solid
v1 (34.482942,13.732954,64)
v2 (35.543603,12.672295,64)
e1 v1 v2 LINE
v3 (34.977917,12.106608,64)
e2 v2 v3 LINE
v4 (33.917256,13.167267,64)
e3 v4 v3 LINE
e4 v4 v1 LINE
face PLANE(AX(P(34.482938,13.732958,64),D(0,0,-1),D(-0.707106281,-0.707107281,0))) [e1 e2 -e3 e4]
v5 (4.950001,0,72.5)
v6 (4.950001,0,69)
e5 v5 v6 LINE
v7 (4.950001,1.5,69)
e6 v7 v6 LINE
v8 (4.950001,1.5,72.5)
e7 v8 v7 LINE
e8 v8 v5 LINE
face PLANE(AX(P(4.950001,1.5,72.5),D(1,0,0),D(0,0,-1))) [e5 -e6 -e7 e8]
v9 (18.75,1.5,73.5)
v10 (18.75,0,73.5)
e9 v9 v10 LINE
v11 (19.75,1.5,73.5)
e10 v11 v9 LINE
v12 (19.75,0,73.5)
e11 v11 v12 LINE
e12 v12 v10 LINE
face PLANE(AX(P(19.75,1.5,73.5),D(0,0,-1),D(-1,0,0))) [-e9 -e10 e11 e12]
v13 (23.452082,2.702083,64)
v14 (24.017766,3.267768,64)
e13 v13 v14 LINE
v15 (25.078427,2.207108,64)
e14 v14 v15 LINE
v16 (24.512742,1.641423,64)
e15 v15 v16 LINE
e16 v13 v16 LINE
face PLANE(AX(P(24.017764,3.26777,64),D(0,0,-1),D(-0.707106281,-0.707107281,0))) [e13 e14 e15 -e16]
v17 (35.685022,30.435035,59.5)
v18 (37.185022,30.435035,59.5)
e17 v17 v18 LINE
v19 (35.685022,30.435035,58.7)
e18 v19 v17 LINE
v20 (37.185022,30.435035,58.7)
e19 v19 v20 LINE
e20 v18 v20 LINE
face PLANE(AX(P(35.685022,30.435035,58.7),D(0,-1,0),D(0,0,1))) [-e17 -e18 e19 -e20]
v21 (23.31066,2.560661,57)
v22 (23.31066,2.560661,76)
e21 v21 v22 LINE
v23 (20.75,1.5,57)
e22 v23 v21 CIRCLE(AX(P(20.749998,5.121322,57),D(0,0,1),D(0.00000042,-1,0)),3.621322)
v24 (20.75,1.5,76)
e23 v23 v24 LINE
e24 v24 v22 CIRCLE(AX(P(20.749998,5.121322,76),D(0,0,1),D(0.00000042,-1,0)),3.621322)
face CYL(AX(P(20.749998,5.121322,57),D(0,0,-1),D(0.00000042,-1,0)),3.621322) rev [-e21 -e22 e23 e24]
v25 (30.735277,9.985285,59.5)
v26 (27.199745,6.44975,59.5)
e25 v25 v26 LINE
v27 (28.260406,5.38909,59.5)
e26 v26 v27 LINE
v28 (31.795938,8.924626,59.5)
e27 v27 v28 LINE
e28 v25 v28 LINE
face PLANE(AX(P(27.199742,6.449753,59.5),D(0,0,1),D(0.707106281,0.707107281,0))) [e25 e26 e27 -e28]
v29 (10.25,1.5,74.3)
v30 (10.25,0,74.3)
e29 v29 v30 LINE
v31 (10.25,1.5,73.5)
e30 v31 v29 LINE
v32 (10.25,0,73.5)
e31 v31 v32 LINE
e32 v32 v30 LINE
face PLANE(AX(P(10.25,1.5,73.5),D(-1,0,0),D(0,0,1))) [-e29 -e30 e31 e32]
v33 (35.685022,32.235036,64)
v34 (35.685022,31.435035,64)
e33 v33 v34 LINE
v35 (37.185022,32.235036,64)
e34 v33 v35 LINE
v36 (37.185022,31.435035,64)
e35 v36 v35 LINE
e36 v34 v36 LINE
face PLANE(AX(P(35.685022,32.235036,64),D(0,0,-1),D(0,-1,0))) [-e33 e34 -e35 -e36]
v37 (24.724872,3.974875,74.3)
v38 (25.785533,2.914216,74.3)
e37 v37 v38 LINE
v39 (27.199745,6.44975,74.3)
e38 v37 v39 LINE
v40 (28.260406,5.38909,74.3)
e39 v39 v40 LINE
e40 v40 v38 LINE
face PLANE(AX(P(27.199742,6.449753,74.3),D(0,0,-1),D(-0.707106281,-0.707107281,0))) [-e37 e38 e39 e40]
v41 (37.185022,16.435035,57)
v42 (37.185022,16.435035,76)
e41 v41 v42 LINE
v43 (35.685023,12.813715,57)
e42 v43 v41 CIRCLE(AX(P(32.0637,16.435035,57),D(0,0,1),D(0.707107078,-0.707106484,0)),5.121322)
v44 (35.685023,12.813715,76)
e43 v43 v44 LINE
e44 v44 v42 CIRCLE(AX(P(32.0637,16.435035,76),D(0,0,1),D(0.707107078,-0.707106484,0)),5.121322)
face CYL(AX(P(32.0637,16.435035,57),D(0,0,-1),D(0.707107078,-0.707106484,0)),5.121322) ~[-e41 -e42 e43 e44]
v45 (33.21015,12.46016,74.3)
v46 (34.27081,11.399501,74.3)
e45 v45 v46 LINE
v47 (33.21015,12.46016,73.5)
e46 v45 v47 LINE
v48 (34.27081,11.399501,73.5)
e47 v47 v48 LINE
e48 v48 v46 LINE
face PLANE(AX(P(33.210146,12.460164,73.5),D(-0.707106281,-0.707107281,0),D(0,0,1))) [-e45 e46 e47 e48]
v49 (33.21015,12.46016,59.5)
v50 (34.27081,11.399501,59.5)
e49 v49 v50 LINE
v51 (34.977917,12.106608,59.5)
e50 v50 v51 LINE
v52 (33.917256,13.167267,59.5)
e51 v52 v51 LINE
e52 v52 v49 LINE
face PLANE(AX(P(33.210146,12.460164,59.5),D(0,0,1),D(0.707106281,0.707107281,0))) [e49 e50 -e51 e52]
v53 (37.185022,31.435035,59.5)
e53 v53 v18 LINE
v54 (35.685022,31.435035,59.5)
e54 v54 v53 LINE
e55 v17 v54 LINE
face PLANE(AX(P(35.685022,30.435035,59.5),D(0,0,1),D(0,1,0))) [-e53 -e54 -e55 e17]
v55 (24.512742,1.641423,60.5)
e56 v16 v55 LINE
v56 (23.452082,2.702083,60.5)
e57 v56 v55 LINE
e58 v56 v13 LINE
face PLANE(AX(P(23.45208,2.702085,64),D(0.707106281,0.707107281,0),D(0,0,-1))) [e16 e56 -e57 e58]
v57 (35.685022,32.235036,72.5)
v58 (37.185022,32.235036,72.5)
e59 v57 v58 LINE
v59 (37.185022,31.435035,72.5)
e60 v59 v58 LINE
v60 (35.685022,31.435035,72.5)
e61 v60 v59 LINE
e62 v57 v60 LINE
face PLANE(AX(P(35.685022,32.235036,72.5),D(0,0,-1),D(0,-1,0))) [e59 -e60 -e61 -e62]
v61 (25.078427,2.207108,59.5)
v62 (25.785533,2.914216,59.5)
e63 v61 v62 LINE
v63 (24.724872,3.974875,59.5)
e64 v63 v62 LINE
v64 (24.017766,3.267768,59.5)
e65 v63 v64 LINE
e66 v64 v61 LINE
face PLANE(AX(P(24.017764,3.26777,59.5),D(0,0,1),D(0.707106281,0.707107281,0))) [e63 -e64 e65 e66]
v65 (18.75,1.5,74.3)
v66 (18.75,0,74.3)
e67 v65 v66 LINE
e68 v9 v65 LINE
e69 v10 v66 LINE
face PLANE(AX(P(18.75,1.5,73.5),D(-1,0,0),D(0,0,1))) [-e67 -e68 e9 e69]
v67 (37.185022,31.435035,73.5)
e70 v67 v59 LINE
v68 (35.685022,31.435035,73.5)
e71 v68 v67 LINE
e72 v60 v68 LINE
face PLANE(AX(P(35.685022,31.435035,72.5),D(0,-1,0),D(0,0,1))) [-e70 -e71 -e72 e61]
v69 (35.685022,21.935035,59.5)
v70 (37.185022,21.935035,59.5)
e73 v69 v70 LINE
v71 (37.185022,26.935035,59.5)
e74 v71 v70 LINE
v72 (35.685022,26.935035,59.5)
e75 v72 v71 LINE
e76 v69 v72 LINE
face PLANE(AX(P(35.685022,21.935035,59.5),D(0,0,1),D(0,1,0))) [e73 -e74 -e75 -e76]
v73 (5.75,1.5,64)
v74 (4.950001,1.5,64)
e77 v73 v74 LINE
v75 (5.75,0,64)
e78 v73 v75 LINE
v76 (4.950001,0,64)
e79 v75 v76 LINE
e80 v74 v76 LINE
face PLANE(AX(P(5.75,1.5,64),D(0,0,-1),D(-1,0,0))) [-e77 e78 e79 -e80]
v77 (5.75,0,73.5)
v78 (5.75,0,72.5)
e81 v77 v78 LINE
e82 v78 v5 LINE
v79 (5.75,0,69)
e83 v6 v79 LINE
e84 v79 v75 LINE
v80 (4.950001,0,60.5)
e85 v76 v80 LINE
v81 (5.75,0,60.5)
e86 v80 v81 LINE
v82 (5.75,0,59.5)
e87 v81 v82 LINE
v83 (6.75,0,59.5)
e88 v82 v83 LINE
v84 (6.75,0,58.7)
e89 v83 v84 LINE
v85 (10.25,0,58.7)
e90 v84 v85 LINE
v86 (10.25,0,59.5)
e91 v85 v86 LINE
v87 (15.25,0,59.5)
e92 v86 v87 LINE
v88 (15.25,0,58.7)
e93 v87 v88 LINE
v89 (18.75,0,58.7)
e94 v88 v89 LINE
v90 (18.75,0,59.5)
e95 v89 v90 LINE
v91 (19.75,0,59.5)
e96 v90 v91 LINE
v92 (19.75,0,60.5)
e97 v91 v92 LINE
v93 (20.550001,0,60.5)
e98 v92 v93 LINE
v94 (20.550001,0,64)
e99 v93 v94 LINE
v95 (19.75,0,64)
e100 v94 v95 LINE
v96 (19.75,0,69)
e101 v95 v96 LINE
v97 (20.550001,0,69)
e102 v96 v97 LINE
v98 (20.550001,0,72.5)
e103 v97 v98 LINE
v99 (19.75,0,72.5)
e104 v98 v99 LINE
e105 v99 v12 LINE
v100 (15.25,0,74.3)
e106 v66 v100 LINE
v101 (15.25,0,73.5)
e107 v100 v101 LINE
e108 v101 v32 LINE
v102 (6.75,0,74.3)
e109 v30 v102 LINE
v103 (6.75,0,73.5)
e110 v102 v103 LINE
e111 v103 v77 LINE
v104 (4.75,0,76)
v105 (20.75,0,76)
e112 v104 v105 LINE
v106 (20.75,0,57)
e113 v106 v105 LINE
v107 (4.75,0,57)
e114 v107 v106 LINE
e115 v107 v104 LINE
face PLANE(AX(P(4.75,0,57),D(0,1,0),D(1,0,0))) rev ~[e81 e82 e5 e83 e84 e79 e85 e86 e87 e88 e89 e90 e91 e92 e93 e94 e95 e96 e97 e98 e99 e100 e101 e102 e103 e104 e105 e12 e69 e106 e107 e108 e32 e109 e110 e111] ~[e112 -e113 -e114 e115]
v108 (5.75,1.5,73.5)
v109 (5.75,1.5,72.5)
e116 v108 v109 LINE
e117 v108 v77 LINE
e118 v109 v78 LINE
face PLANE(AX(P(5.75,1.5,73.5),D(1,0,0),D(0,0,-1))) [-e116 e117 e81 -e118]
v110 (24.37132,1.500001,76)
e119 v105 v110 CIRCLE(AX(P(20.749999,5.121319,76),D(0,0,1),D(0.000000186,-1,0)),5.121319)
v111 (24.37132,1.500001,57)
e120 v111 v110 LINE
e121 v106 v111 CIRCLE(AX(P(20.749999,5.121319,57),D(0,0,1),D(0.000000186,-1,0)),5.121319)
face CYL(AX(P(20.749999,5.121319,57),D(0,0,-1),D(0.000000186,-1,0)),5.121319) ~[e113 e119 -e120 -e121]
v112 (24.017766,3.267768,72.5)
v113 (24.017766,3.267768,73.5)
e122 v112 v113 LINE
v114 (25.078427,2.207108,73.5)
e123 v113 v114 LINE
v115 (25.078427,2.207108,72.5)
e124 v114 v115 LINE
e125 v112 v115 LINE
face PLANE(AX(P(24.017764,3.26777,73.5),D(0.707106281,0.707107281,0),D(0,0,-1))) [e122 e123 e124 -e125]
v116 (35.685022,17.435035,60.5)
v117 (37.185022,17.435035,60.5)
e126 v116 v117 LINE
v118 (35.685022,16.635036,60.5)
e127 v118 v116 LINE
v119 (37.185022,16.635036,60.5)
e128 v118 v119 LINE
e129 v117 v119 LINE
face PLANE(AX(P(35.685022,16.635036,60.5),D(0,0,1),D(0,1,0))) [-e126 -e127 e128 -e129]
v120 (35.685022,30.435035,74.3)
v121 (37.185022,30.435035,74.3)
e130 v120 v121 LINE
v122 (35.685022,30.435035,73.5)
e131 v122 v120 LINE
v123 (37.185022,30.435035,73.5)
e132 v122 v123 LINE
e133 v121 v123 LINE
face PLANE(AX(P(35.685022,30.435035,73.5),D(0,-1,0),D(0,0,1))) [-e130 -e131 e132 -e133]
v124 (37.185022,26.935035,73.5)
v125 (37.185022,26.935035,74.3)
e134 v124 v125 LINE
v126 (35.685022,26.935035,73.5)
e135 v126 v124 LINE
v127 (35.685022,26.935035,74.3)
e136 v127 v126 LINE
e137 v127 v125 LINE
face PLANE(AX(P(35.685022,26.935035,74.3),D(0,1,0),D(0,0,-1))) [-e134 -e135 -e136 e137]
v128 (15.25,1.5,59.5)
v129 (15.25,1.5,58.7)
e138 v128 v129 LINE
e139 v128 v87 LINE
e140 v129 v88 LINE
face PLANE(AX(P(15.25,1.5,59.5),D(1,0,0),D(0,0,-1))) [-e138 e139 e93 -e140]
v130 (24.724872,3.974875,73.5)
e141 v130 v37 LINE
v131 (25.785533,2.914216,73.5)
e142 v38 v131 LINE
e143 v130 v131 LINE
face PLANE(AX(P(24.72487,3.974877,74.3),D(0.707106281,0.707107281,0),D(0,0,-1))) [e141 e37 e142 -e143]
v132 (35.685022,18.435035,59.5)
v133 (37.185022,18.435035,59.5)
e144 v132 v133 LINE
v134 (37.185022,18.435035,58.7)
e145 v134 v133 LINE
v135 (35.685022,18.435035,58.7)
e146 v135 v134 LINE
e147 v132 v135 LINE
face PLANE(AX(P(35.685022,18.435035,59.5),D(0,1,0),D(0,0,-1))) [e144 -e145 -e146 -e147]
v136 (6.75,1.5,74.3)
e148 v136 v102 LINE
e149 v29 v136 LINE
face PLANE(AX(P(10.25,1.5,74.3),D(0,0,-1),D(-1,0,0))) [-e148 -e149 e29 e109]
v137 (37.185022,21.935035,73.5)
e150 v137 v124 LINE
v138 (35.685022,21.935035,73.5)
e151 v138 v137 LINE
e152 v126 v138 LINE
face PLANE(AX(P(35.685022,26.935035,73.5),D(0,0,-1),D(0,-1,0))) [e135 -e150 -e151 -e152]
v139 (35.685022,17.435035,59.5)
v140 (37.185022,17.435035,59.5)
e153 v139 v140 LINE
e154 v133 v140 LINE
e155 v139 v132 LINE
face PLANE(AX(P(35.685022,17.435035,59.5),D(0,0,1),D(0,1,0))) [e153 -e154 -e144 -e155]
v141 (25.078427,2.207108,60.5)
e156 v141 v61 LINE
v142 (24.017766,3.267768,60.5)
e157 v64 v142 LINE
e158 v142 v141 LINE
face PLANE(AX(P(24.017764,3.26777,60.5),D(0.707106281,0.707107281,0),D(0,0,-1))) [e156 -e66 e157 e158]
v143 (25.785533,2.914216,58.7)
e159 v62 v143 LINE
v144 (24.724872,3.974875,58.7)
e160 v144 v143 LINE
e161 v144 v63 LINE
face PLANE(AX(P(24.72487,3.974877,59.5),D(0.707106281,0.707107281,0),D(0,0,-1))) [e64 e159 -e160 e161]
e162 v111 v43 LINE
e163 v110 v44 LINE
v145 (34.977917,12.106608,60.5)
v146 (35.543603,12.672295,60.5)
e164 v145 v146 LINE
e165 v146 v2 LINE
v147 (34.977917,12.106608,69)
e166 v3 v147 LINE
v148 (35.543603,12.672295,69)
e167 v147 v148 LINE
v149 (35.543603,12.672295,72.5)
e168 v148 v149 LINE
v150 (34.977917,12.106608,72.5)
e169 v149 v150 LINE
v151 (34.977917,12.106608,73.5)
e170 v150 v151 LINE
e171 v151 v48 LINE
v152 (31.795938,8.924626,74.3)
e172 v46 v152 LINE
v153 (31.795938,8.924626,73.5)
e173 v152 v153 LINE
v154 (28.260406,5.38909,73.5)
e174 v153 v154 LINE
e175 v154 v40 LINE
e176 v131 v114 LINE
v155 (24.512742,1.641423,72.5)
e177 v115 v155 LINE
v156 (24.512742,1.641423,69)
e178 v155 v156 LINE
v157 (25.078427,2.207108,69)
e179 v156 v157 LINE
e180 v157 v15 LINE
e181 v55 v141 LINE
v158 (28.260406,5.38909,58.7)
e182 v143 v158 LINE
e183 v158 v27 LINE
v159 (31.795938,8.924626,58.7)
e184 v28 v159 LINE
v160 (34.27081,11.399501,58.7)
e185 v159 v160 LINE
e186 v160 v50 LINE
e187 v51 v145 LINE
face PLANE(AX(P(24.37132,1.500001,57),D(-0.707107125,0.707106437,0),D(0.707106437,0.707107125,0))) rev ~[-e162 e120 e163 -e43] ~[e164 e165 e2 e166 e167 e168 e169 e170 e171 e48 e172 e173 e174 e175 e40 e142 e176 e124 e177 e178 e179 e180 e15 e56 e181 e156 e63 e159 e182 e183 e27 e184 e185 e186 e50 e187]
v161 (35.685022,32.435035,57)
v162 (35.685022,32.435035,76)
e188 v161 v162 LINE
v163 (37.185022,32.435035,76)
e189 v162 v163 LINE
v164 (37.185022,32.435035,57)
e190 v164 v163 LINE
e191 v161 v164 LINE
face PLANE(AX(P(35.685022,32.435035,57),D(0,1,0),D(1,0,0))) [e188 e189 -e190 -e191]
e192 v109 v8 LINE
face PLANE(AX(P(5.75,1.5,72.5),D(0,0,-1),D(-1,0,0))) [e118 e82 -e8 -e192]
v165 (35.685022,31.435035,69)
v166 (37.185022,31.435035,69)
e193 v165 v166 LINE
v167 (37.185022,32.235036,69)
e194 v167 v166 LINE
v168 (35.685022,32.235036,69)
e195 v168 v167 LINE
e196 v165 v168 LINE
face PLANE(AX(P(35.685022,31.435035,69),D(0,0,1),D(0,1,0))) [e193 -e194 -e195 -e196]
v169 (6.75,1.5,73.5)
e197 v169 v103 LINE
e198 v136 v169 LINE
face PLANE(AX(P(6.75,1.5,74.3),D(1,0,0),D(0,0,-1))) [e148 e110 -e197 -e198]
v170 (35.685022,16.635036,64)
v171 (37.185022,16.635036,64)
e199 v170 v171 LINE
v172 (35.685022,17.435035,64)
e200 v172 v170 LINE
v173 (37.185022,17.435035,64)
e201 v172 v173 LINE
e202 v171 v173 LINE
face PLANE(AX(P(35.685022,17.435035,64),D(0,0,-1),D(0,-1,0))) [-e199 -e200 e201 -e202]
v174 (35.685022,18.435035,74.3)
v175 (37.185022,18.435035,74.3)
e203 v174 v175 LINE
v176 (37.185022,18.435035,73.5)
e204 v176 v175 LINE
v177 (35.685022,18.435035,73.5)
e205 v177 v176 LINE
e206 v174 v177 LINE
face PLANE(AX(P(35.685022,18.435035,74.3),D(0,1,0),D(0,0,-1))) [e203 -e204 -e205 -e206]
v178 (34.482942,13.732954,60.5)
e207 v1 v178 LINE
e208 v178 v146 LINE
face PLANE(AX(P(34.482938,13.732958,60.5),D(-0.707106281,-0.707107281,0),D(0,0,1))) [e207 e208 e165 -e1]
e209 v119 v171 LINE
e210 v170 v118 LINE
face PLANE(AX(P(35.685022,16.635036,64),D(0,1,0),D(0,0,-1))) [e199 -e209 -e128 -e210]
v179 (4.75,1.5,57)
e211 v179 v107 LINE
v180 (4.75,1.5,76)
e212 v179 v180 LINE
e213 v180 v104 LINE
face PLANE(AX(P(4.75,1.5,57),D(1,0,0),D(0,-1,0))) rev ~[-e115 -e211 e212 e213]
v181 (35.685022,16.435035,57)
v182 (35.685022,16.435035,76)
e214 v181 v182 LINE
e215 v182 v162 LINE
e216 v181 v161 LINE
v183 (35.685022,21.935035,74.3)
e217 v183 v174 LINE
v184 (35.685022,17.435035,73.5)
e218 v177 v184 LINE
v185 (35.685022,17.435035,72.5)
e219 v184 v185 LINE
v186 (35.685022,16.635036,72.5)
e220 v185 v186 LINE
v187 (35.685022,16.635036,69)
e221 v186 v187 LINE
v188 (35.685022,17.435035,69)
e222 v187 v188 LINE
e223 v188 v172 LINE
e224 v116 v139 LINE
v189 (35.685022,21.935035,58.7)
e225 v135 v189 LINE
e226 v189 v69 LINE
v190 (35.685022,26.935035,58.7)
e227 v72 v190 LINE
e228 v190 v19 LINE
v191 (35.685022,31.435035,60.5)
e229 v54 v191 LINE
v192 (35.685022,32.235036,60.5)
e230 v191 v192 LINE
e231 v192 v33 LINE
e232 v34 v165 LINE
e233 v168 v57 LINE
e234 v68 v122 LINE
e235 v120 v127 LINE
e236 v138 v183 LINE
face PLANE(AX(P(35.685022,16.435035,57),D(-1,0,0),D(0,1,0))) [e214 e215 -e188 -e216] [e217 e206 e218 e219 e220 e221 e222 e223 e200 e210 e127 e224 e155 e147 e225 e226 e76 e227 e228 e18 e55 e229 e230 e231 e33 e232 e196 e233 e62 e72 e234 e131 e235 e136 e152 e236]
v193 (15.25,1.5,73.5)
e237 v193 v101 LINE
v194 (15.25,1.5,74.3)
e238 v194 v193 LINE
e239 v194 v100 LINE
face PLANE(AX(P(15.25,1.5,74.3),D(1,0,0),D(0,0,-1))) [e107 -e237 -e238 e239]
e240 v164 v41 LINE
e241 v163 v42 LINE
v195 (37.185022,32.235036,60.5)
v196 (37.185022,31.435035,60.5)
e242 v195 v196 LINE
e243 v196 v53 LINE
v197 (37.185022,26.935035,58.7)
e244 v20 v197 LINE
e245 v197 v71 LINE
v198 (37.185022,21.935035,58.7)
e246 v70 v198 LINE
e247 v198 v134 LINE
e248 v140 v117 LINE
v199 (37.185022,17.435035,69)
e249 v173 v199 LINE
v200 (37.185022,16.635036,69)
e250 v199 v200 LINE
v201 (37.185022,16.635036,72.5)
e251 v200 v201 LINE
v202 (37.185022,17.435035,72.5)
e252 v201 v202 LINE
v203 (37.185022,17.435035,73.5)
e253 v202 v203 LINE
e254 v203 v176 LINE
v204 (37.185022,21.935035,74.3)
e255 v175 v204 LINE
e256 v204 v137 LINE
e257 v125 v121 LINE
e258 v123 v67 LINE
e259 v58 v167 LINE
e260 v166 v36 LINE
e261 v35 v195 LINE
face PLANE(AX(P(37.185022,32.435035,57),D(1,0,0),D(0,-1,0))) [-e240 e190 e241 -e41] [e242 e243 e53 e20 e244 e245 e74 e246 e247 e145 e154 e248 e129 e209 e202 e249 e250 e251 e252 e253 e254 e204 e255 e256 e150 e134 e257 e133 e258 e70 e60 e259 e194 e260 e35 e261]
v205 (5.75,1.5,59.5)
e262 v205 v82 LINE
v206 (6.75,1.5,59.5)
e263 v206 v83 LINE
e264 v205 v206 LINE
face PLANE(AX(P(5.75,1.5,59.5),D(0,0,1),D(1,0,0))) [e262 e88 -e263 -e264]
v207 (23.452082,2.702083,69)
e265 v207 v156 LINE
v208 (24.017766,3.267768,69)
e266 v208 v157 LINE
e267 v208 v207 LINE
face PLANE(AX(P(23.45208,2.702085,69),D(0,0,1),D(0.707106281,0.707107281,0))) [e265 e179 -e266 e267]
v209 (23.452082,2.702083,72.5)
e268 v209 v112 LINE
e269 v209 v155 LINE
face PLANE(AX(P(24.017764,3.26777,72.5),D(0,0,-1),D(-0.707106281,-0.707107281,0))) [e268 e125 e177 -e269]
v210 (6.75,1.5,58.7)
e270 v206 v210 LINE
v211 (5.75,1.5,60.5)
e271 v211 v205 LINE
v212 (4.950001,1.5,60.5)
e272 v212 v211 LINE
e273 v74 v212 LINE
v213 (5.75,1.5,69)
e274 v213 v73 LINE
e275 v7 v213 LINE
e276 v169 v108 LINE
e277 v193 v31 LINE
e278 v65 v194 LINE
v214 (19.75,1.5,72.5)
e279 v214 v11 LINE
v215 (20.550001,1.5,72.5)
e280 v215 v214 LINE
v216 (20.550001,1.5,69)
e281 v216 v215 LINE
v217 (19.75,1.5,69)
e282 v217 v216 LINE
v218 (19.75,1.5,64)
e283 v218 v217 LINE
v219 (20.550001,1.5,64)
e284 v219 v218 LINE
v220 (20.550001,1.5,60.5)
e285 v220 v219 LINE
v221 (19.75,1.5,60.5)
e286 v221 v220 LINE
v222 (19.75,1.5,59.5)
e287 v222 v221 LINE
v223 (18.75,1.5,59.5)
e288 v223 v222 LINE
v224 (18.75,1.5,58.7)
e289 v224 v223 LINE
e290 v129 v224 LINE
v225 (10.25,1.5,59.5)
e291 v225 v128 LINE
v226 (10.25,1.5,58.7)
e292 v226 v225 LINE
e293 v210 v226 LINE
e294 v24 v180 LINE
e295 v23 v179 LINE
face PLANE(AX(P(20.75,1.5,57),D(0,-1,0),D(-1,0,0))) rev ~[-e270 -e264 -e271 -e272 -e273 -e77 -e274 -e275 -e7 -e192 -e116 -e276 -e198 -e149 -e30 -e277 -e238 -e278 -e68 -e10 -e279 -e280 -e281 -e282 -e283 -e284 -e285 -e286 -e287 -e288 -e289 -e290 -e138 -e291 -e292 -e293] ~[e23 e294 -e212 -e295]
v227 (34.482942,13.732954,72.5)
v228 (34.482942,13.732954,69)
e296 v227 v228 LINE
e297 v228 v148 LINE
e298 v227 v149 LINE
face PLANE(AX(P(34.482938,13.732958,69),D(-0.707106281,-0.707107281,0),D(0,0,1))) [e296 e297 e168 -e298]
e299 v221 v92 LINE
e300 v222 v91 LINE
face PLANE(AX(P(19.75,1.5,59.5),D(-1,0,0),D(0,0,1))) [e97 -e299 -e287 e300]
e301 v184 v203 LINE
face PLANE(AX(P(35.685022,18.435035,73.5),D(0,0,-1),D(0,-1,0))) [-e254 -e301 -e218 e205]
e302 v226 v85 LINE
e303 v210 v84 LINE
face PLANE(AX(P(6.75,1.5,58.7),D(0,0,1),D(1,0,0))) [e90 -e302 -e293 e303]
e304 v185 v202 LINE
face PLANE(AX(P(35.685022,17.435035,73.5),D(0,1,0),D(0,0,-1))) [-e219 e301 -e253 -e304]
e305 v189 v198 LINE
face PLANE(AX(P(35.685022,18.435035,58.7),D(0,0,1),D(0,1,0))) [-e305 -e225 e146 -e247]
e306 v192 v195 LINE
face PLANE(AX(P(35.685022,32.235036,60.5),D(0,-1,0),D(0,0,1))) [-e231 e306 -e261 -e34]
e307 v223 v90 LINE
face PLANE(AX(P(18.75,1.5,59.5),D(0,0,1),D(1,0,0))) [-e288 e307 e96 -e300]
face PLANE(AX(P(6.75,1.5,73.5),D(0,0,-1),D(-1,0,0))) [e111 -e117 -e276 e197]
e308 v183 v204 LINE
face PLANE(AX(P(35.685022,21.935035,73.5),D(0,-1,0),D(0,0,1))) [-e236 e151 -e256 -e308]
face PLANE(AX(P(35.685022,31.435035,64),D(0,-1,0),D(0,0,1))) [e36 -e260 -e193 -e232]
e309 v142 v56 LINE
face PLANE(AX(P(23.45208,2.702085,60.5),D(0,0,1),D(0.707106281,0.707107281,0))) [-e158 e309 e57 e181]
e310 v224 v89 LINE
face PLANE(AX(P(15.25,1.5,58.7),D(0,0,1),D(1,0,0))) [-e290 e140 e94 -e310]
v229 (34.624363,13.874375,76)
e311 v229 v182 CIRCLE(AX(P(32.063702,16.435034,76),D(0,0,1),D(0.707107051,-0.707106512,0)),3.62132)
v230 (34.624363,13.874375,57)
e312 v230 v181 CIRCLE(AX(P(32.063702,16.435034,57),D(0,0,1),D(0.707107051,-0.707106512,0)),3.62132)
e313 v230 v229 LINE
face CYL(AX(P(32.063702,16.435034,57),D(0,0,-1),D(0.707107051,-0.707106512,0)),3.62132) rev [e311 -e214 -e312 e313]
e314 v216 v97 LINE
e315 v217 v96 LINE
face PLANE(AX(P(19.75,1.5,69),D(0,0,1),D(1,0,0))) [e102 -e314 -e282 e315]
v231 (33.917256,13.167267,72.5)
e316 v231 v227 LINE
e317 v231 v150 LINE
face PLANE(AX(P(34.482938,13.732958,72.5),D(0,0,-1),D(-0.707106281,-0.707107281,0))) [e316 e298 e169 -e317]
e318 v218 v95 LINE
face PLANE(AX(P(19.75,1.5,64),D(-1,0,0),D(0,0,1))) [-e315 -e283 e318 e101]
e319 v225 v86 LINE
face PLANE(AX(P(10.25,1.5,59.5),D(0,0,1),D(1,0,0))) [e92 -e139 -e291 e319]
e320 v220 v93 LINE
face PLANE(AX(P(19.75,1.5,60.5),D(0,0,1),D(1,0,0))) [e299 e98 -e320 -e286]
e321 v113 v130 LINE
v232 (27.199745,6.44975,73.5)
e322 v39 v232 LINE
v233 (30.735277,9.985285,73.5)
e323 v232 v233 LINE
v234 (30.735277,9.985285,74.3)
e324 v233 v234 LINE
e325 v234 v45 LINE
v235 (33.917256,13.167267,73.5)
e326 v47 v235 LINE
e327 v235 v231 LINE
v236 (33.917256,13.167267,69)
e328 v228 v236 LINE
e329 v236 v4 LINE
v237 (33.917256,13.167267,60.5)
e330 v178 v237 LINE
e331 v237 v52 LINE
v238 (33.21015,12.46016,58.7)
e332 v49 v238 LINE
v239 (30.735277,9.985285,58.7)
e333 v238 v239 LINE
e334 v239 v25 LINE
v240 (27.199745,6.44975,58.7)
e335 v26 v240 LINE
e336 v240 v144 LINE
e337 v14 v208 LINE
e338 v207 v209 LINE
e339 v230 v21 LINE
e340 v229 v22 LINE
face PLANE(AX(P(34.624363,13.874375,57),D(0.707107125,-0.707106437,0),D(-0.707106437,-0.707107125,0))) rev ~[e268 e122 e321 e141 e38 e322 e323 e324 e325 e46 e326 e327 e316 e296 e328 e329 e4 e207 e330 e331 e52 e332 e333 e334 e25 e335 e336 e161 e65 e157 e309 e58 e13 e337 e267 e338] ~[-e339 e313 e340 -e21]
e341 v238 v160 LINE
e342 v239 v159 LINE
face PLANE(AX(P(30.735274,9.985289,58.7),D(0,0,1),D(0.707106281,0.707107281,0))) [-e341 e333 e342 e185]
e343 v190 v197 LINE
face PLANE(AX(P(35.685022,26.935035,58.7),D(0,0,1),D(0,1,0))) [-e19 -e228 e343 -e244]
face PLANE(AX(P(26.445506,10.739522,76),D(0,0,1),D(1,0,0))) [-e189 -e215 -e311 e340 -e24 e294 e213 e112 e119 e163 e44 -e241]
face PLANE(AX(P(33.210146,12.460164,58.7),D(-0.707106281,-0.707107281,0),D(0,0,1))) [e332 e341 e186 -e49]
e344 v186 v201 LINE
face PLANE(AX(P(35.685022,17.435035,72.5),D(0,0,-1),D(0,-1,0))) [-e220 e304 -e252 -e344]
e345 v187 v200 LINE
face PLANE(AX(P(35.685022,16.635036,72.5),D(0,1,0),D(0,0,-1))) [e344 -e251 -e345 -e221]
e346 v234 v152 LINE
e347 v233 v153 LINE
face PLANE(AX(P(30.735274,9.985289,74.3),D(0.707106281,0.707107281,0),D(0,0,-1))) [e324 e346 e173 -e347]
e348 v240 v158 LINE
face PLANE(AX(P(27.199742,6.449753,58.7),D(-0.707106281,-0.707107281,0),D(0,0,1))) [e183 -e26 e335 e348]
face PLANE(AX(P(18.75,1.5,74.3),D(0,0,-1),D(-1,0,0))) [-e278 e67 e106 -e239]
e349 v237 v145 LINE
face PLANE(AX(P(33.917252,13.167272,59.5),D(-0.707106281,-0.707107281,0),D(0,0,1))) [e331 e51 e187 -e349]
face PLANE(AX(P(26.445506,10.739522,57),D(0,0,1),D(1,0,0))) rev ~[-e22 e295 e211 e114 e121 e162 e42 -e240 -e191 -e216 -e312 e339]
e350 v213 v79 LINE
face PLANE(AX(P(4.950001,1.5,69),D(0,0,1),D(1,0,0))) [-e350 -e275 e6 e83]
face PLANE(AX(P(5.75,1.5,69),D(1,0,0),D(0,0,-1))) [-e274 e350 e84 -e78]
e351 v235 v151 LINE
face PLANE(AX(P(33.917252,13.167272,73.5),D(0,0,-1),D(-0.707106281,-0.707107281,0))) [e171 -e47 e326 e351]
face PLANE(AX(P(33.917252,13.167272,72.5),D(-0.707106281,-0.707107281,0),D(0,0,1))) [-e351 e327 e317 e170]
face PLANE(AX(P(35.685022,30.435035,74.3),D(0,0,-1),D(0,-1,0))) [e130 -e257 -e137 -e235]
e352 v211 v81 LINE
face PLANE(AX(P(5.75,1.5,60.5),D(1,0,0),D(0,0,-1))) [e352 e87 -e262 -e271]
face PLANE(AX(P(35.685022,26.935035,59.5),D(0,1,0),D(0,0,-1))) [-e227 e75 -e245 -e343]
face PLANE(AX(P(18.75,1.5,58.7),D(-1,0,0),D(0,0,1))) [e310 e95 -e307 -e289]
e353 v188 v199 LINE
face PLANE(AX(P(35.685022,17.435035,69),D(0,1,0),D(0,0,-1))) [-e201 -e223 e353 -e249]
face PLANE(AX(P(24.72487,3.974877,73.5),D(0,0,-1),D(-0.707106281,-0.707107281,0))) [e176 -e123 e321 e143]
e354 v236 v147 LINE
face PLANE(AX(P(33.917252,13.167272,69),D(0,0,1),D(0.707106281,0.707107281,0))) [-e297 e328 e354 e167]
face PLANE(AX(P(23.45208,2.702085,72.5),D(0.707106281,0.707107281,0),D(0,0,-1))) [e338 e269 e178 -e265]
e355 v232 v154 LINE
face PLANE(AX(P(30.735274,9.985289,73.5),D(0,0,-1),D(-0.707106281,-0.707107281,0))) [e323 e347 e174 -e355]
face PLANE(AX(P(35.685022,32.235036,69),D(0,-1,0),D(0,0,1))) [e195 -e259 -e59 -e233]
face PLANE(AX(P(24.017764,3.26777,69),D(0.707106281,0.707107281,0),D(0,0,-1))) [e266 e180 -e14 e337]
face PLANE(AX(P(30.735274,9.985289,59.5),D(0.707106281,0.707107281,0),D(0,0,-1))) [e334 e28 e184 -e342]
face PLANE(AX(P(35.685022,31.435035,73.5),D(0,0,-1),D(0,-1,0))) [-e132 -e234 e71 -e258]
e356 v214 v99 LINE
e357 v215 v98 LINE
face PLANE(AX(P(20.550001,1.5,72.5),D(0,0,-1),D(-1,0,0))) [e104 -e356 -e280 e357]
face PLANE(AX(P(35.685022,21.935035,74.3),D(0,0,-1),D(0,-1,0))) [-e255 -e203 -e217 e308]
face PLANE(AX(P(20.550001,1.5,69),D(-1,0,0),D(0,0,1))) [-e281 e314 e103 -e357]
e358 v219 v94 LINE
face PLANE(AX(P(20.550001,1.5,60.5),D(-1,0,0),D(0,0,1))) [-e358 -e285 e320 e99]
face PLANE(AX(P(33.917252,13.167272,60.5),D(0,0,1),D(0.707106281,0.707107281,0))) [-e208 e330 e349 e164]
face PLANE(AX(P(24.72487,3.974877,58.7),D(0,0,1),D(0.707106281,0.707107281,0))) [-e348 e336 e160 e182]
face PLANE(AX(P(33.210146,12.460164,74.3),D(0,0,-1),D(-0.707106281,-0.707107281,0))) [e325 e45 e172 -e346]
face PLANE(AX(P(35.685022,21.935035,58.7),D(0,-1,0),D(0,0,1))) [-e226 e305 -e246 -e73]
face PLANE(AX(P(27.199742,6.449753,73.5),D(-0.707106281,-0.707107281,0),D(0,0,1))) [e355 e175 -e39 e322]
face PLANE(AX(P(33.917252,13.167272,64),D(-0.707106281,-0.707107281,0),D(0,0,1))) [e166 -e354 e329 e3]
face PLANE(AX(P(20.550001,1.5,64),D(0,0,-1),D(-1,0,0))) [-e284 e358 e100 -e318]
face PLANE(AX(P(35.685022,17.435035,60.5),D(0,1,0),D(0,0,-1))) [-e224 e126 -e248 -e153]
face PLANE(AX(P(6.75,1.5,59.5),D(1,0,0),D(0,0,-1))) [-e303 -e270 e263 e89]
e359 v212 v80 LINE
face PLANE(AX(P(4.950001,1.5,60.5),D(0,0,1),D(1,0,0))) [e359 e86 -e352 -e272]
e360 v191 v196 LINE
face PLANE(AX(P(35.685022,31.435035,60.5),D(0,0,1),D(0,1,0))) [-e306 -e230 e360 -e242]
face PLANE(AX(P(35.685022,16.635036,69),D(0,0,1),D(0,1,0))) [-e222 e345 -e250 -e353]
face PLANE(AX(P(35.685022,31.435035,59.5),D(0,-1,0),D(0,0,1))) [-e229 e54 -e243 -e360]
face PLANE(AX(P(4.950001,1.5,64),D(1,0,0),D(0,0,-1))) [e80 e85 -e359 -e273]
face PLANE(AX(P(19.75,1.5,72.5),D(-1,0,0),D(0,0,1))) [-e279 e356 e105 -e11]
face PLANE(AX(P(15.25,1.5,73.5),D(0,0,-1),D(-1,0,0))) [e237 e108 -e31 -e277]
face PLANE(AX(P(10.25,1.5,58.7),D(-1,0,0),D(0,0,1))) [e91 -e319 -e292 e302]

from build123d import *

# Parameters (mm, degrees)
PAD_DEPTH       = 19
POCKET_DEPTH    = 11.62232
POCKET002_DEPTH = 1.501
POCKET003_DEPTH = 1.501


with BuildPart() as part:
    # Sketch → Pad (new body)
    with BuildSketch(Plane.XY):
        with BuildLine():
            Line((0, 0), (16, 0))
            ThreePointArc((16, 0), (17.959845, 0.389838), (19.62132, 1.500001))
            Line((19.62132, 1.500001), (30.935023, 12.813715))
            ThreePointArc((30.935023, 12.813715), (32.045185, 14.475191), (32.435022, 16.435035))
            Line((32.435022, 32.435035), (32.435022, 16.435035))
            Line((30.935022, 32.435035), (32.435022, 32.435035))
            Line((30.935022, 16.435035), (30.935022, 32.435035))
            ThreePointArc((29.874363, 13.874375), (30.659366, 15.049216), (30.935022, 16.435035))
            Line((29.874363, 13.874375), (18.56066, 2.560661))
            ThreePointArc((16, 1.5), (17.385819, 1.775657), (18.56066, 2.560661))
            Line((16, 1.5), (0, 1.5))
            Line((0, 1.5), (0, 0))
        make_face()
    extrude(amount=PAD_DEPTH)

    # Sketch004 → Pocket (cut, through all)
    with BuildSketch(Plane(origin=(8.000009, -8.000001, 0), x_dir=(-0.707106, -0.707107, 0), z_dir=(-0.707107, 0.707106, 0))):
        Polygon((-28.935023, 17.3), (-25.435023, 17.3), (-25.435023, 16.5), (-20.435023, 16.5), (-20.435023, 17.3), (-16.935023, 17.3), (-16.935023, 16.5), (-15.935023, 16.5), (-15.935023, 15.5), (-15.135024, 15.5), (-15.135024, 12), (-15.935023, 12), (-15.935023, 7), (-15.135024, 7), (-15.135024, 3.5), (-15.935023, 3.5), (-15.935023, 2.5), (-16.935023, 2.5), (-16.935023, 1.7), (-20.435023, 1.7), (-20.435023, 2.5), (-25.435023, 2.5), (-25.435023, 1.7), (-28.935023, 1.7), (-28.935023, 2.5), (-29.935023, 2.5), (-29.935023, 3.5), (-30.735024, 3.5), (-30.735024, 7), (-29.935023, 7), (-29.935023, 12), (-30.735024, 12), (-30.735024, 15.5), (-29.935023, 15.5), (-29.935023, 16.5), (-28.935023, 16.5), align=None)
    extrude(amount=-POCKET_DEPTH, mode=Mode.SUBTRACT)

    # Sketch004001 → Pocket002 (cut, through all)
    with BuildSketch(Plane(origin=(30.935022, 0, 0), x_dir=(0, -1, 0), z_dir=(-1, 0, 0))):
        Polygon((-30.435035, 17.3), (-26.935035, 17.3), (-26.935035, 16.5), (-21.935035, 16.5), (-21.935035, 17.3), (-18.435035, 17.3), (-18.435035, 16.5), (-17.435035, 16.5), (-17.435035, 15.5), (-16.635036, 15.5), (-16.635036, 12), (-17.435035, 12), (-17.435035, 7), (-16.635036, 7), (-16.635036, 3.5), (-17.435035, 3.5), (-17.435035, 2.5), (-18.435035, 2.5), (-18.435035, 1.7), (-21.935035, 1.7), (-21.935035, 2.5), (-26.935035, 2.5), (-26.935035, 1.7), (-30.435035, 1.7), (-30.435035, 2.5), (-31.435035, 2.5), (-31.435035, 3.5), (-32.235036, 3.5), (-32.235036, 7), (-31.435035, 7), (-31.435035, 12), (-32.235036, 12), (-32.235036, 15.5), (-31.435035, 15.5), (-31.435035, 16.5), (-30.435035, 16.5), align=None)
    extrude(amount=-POCKET002_DEPTH, mode=Mode.SUBTRACT)

    # Sketch004001001 → Pocket003 (cut, through all)
    with BuildSketch(Plane(origin=(0, 1.5, 0), x_dir=(-1, 0, 0), z_dir=(0, 1, 0))):
        Polygon((-14, 17.3), (-10.5, 17.3), (-10.5, 16.5), (-5.5, 16.5), (-5.5, 17.3), (-2, 17.3), (-2, 16.5), (-1, 16.5), (-1, 15.5), (-0.200001, 15.5), (-0.200001, 12), (-1, 12), (-1, 7), (-0.200001, 7), (-0.200001, 3.5), (-1, 3.5), (-1, 2.5), (-2, 2.5), (-2, 1.7), (-5.5, 1.7), (-5.5, 2.5), (-10.5, 2.5), (-10.5, 1.7), (-14, 1.7), (-14, 2.5), (-15, 2.5), (-15, 3.5), (-15.800001, 3.5), (-15.800001, 7), (-15, 7), (-15, 12), (-15.800001, 12), (-15.800001, 15.5), (-15, 15.5), (-15, 16.5), (-14, 16.5), align=None)
    extrude(amount=-POCKET003_DEPTH, mode=Mode.SUBTRACT)


with BuildPart() as part_1:
    # Clone placement: moved
    add(part.part.moved(Location((2.38, -2.38, 19))))


with BuildPart() as part_2:
    # Clone001 placement: moved
    add(part_1.part.moved(Location((4.75, 4.76, 19))))


with BuildPart() as part_3:
    # Clone002 placement: moved
    add(part_2.part.moved(Location((-2.38, -2.38, 19))))


solid = part_3.part
